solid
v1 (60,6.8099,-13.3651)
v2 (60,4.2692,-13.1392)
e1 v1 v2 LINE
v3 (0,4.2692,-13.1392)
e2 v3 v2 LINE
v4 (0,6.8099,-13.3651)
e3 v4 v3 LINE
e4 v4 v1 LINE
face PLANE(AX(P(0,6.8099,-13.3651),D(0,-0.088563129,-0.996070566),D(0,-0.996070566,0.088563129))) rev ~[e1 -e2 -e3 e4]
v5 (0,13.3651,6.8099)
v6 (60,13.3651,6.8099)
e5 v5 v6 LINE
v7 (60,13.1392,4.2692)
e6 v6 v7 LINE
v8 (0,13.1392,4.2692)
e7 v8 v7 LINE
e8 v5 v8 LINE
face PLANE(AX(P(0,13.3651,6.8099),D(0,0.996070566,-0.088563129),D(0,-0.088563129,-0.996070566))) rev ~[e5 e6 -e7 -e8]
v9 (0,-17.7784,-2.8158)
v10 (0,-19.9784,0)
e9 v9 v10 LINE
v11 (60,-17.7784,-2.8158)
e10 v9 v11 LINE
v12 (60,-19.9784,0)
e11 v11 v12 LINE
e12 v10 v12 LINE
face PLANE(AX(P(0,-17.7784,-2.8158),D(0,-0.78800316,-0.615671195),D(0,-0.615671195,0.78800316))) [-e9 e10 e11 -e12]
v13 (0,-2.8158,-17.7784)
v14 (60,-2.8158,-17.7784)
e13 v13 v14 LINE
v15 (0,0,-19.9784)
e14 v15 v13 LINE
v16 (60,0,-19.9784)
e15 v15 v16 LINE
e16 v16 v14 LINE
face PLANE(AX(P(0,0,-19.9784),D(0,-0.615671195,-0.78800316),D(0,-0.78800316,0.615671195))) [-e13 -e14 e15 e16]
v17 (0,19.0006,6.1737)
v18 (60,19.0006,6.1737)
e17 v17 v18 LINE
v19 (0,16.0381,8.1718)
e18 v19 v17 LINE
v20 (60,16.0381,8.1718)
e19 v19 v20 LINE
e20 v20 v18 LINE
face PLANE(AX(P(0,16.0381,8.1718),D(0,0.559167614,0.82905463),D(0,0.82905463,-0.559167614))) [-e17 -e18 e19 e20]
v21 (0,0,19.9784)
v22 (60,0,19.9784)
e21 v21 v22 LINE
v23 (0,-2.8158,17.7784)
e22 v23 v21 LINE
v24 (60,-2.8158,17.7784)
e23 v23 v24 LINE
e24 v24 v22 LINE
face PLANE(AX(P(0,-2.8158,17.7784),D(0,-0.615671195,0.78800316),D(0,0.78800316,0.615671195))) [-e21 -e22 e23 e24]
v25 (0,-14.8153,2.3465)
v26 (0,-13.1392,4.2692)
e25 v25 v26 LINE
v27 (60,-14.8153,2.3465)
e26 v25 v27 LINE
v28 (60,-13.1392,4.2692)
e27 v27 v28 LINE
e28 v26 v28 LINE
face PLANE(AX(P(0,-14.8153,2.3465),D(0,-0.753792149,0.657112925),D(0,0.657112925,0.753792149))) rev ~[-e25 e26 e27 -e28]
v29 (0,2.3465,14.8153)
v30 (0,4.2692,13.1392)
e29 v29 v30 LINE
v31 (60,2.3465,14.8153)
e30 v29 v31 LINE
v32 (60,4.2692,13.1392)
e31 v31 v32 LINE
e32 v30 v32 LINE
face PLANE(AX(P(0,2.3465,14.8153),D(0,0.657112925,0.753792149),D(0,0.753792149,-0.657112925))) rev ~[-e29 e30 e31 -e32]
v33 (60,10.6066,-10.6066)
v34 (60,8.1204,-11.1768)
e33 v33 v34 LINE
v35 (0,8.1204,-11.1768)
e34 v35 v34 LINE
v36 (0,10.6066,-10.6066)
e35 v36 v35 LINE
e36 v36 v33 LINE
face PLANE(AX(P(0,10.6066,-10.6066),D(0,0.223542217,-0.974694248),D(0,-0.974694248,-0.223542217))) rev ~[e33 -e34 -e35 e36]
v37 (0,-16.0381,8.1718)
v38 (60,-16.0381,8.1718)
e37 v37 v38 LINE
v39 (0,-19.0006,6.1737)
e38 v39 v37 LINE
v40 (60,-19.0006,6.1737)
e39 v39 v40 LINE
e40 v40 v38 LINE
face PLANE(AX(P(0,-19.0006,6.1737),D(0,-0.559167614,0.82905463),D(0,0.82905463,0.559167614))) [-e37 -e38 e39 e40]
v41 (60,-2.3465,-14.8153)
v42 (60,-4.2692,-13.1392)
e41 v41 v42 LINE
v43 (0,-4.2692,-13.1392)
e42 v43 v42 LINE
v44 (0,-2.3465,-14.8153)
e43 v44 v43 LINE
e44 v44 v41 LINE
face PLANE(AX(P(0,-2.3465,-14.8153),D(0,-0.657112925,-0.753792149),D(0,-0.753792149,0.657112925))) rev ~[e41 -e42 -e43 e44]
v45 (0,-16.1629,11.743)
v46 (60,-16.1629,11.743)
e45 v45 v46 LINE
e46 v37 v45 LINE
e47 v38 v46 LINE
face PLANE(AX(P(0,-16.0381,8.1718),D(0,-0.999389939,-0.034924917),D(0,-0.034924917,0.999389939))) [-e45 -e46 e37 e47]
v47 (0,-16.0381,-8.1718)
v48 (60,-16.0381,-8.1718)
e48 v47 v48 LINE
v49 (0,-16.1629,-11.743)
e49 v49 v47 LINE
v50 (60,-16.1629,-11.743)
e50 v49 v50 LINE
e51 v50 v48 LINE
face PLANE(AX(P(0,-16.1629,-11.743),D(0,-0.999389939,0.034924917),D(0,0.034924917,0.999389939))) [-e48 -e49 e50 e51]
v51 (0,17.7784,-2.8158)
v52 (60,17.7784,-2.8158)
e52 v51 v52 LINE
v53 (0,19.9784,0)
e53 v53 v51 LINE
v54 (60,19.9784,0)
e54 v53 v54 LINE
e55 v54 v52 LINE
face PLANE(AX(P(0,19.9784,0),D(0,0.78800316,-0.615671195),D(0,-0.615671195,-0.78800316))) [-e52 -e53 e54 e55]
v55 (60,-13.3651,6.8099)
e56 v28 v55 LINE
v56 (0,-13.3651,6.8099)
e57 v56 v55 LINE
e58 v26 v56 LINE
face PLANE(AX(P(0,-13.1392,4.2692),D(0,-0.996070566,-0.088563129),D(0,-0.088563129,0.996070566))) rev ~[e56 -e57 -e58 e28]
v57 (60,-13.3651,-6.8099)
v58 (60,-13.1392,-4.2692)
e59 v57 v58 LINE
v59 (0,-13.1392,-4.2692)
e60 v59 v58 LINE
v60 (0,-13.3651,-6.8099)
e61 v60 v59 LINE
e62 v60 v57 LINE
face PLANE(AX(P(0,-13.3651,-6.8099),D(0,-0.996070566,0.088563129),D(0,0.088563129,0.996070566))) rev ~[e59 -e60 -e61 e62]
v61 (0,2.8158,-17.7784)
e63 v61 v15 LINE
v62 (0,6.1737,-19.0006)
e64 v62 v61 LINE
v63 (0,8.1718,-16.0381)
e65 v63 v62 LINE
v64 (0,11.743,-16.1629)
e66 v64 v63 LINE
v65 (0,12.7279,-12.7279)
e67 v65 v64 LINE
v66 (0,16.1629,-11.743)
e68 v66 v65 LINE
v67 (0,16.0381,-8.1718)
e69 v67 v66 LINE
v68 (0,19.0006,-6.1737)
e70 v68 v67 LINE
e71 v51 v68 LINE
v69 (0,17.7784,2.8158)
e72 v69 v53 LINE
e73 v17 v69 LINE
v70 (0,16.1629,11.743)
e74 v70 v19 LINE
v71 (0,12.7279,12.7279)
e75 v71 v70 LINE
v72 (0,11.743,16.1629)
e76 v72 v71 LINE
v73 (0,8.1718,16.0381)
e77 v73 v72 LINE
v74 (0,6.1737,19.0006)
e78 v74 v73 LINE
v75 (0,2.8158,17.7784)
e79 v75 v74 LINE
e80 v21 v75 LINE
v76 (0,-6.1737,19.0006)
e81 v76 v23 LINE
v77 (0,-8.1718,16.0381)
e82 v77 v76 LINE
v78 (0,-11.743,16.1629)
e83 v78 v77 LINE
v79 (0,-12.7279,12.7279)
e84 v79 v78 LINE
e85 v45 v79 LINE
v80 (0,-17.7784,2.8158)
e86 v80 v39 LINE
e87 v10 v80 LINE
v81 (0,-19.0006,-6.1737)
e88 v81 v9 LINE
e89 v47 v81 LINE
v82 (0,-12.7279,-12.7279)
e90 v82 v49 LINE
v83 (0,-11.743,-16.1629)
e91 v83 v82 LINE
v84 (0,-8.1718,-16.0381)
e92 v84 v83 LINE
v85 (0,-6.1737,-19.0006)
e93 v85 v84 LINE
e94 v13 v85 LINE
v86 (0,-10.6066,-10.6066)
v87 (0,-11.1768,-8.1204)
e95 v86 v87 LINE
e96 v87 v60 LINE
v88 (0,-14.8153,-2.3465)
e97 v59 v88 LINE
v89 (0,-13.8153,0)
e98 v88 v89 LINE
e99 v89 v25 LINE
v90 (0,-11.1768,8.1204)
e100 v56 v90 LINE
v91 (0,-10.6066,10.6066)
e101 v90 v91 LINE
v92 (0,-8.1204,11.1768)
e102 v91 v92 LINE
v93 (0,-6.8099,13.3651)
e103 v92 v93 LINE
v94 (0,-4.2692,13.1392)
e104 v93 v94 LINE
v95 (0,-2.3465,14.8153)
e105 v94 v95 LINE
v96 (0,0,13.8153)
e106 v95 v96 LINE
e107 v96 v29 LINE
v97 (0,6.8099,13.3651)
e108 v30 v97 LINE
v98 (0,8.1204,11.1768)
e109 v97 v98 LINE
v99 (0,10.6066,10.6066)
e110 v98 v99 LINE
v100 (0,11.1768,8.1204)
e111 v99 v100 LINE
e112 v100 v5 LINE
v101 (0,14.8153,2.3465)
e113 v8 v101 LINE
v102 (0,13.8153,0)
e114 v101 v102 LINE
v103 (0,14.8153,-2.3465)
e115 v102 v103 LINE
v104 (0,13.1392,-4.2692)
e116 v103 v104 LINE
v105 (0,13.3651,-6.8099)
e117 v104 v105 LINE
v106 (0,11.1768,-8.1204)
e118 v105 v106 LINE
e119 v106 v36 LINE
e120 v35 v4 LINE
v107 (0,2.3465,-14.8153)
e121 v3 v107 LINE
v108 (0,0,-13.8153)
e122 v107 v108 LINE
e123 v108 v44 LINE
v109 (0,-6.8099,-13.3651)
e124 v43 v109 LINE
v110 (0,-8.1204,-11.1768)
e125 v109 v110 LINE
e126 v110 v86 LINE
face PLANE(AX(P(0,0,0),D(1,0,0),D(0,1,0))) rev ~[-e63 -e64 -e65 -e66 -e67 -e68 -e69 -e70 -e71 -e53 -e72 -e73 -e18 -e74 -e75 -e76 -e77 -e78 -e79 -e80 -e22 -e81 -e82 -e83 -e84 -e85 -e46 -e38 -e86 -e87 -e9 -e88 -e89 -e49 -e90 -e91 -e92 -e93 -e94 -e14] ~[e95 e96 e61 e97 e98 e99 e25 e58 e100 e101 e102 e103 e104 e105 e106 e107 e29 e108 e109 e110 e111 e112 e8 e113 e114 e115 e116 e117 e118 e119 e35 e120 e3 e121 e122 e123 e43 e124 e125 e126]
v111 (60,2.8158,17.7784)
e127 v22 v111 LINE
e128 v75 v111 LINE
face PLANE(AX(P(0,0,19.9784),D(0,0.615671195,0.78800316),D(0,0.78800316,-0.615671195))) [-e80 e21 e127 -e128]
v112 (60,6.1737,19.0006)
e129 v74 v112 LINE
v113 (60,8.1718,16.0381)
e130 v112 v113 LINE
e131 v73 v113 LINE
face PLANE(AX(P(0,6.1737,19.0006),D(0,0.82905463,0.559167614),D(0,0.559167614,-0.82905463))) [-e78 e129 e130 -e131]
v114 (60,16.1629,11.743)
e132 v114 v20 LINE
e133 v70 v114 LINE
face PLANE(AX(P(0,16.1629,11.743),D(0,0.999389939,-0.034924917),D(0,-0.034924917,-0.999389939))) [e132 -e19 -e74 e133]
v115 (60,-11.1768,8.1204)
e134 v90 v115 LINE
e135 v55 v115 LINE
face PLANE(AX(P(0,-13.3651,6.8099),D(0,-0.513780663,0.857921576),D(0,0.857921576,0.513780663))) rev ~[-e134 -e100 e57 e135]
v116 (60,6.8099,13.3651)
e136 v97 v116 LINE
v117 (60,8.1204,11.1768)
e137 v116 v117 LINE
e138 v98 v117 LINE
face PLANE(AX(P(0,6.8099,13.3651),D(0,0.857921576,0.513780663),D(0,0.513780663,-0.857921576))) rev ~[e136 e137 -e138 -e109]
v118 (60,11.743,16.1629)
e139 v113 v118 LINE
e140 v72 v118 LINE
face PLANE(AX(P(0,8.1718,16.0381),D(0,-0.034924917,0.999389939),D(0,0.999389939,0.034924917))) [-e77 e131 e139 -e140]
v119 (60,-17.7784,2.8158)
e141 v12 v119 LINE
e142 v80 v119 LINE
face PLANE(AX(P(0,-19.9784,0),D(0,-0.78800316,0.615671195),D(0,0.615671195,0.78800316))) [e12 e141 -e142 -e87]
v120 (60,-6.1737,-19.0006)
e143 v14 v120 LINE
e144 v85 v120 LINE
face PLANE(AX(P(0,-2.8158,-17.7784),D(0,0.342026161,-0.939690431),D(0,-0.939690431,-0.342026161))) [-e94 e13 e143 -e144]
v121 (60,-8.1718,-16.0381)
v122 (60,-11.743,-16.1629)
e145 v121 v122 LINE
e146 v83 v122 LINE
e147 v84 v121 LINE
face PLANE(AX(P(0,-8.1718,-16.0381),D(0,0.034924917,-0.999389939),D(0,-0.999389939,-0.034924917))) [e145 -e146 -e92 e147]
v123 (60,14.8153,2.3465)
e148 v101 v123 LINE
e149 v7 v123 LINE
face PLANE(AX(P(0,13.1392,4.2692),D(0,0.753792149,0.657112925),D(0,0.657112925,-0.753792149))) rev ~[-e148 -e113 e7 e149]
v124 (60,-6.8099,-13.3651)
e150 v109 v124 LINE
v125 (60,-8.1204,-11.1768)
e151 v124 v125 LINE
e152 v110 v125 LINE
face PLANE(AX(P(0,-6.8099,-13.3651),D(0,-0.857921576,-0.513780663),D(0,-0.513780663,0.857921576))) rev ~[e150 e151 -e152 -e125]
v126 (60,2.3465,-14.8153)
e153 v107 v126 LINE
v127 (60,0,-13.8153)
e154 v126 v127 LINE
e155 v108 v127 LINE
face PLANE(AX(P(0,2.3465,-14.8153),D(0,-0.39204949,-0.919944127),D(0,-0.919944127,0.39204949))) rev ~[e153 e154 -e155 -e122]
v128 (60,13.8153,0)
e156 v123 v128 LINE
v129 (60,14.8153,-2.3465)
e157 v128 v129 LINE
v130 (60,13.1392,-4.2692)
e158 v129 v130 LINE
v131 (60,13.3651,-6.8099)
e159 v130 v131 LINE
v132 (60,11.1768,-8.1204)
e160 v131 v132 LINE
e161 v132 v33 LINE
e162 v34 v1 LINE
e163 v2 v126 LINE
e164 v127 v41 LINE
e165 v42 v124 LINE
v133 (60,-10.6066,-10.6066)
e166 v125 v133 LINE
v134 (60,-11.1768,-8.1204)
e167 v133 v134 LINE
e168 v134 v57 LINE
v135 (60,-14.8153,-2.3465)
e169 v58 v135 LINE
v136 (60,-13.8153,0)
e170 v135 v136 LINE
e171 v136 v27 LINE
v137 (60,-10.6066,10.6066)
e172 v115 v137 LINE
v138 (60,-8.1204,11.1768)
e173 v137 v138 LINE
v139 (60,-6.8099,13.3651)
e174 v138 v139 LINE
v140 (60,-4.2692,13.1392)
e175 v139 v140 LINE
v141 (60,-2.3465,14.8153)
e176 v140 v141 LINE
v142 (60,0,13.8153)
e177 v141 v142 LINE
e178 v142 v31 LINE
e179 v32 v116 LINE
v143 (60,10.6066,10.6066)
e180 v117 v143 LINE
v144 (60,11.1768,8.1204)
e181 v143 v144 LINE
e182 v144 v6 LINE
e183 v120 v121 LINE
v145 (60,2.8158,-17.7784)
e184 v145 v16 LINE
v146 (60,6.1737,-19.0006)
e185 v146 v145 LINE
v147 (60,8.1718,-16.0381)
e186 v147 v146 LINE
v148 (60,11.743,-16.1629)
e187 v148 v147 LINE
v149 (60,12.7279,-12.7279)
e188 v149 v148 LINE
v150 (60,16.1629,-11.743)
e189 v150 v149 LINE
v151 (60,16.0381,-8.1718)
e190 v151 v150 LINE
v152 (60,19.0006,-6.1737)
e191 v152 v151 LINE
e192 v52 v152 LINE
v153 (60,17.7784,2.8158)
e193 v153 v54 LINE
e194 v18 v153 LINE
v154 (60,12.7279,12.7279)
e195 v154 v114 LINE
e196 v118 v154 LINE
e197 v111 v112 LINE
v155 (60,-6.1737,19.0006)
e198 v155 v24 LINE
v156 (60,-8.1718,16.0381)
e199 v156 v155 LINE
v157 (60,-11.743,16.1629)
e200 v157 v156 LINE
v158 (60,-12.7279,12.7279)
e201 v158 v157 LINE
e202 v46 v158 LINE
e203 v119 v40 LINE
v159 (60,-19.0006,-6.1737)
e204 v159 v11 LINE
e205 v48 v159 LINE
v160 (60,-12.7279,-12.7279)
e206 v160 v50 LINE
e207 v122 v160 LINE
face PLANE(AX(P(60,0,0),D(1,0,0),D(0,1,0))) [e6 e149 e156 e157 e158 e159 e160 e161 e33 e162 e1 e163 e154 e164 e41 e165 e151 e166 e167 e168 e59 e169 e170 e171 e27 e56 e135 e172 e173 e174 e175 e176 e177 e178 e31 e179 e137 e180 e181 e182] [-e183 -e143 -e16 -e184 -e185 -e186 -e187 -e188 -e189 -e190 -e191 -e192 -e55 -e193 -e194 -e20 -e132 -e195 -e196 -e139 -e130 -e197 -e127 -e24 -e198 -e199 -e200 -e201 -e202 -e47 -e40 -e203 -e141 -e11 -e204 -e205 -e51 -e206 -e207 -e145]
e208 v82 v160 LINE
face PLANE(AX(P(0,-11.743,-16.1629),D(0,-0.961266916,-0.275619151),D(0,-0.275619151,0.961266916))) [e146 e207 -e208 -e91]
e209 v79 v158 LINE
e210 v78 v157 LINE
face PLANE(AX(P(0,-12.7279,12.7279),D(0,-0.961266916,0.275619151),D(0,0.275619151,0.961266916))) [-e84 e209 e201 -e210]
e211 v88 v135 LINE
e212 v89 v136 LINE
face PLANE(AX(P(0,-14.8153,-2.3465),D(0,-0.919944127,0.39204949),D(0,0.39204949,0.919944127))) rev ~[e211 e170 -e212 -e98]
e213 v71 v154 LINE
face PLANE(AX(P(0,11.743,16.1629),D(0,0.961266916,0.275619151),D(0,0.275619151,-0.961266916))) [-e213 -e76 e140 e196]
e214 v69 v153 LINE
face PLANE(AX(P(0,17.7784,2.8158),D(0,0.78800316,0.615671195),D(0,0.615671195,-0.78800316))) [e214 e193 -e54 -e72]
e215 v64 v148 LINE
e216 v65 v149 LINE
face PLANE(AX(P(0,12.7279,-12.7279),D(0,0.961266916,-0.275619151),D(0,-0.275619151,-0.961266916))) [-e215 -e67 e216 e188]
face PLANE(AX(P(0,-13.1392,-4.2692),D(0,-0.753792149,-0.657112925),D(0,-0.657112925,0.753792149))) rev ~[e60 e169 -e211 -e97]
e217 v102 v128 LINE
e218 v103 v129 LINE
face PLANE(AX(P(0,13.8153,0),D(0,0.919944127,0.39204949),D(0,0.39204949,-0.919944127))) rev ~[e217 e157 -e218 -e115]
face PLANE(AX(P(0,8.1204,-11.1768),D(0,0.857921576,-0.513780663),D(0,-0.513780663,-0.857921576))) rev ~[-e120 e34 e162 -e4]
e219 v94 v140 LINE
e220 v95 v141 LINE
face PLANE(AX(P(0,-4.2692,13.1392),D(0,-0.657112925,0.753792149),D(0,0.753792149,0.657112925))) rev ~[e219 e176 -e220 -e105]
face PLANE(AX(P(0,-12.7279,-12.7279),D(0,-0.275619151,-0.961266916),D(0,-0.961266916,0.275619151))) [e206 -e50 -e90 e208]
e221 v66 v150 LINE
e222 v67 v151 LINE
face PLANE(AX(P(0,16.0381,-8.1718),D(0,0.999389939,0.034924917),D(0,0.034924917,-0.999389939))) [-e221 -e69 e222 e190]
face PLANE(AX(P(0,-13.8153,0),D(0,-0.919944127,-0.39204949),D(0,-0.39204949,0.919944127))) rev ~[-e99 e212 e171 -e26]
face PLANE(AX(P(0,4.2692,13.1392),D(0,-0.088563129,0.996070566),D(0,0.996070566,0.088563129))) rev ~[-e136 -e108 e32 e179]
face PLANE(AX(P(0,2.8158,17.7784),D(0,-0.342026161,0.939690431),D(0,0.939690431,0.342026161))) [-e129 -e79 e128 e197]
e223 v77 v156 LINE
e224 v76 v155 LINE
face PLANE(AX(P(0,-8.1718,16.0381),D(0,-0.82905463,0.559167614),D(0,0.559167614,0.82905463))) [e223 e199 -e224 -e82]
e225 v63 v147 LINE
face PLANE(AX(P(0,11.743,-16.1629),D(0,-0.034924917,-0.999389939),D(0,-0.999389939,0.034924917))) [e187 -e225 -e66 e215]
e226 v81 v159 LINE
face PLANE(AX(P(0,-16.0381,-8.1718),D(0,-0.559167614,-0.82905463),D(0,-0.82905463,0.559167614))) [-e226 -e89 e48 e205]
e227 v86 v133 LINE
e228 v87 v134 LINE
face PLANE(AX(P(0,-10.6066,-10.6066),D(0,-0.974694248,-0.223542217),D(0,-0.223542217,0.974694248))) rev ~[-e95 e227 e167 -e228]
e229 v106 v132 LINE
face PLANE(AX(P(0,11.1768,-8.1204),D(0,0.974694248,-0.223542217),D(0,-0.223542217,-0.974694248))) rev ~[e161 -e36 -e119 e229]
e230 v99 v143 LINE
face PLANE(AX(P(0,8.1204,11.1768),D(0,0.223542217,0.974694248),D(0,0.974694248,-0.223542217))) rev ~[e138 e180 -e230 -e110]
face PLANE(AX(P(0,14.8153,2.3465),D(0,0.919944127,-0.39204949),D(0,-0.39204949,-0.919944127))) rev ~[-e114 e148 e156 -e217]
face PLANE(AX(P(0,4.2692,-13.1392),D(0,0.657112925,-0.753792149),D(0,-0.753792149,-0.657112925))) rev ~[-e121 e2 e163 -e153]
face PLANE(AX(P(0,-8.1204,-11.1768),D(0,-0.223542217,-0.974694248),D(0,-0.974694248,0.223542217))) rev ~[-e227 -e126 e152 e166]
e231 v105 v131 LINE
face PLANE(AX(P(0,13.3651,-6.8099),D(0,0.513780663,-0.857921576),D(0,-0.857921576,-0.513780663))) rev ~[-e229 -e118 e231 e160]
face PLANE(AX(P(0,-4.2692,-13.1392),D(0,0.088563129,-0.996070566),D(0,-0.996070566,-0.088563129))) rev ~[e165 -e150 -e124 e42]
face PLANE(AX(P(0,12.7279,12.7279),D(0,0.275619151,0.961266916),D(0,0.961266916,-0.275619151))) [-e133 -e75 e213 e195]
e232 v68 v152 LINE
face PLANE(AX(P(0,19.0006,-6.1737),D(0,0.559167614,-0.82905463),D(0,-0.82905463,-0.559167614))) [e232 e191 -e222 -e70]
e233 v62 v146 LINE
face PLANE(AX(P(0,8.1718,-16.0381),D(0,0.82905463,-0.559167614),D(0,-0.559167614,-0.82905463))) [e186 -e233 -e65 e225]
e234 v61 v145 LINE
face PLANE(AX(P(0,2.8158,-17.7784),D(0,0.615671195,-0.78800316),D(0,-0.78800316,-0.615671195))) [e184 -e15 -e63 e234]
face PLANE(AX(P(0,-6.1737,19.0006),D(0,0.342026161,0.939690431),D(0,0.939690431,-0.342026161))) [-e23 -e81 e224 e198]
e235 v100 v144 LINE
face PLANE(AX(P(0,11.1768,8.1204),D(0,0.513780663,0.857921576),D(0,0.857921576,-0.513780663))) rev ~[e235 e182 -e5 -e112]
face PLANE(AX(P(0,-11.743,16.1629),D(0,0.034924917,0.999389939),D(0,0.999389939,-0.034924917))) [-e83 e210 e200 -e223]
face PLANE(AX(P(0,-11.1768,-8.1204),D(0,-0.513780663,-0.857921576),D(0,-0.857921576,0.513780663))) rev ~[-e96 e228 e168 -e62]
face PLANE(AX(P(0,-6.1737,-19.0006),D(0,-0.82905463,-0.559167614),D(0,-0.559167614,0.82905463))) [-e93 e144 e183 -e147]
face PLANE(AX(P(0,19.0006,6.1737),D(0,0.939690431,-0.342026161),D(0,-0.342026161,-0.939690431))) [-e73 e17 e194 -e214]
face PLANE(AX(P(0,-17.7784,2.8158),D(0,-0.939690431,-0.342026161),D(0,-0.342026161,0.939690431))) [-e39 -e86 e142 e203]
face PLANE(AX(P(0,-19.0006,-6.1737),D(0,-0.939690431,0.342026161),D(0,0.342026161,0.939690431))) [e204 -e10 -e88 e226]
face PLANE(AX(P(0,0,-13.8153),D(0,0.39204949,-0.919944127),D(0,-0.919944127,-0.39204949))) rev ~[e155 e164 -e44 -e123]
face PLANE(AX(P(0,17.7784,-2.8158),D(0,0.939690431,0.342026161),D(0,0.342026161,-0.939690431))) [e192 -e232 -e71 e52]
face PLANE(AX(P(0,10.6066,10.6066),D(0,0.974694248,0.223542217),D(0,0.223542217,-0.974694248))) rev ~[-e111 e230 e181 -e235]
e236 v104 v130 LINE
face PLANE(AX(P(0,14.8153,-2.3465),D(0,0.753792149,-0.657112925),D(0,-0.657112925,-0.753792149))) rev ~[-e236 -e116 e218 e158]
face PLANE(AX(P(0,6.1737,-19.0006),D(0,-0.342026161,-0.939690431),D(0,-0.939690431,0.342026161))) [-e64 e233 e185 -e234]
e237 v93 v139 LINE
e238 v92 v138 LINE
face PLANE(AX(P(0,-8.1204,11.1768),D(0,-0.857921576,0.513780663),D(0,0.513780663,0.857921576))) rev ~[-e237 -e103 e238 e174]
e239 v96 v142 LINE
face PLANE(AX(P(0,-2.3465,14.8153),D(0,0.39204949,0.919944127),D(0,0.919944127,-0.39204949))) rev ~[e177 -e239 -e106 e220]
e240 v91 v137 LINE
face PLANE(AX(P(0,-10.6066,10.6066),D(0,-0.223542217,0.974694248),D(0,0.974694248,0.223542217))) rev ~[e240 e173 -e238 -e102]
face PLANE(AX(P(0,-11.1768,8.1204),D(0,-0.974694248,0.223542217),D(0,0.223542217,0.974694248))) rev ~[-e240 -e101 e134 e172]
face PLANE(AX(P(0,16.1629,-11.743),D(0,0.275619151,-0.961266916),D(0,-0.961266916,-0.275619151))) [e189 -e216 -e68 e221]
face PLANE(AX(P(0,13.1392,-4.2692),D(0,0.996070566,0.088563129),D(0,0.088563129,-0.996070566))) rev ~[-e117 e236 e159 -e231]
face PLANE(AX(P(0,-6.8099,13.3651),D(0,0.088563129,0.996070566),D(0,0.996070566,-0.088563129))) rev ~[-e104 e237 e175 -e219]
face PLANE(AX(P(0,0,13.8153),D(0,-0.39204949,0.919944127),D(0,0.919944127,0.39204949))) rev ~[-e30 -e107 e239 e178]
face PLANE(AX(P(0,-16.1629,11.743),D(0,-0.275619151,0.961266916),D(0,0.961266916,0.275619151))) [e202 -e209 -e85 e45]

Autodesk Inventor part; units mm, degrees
ref_plane "YZ Plane" through (0, 0, 0) normal (1, 0, 0) x (0, 1, 0)
ref_plane "XZ Plane" through (0, 0, 0) normal (0, 1, 0) x (-1, 0, 0)
ref_plane "XY Plane" through (0, 0, 0) normal (0, 0, 1) x (1, 0, 0)
sketch "Sketch2" plane through (0, 0, 0) normal (1, 0, 0) x (0, 1, 0)
  circle A0 centre (0, 0) radius 15 construction
  circle A1 centre (0, 0) radius 18 construction
  line L0 (17.7784, 2.8158) -> (17.7784, -2.8158) construction
  line L1 (17.7784, 2.8158) -> (0, 0) construction
  line L2 (0, 0) -> (17.7784, -2.8158) construction
  line L3 (17.7784, 2.8158) -> (19.9784, 0)
  line L4 (19.9784, 0) -> (17.7784, -2.8158)
  line L5 (19.9784, 0) -> (17.7784, 0) construction
  line L6 (14.8153, 2.3465) -> (13.8153, 0)
  line L7 (13.8153, 0) -> (14.8153, -2.3465)
  line L8 (14.8153, 2.3465) -> (14.8153, -2.3465) construction
  line L9 (13.8153, 0) -> (14.8153, 0) construction
  line L10 (16.0381, 8.1718) -> (19.0006, 6.1737)
  line L11 (19.0006, 6.1737) -> (17.7784, 2.8158)
  line L12 (13.3651, 6.8099) -> (13.1392, 4.2692)
  line L13 (13.1392, 4.2692) -> (14.8153, 2.3465)
  line L14 (12.7279, 12.7279) -> (16.1629, 11.743)
  line L15 (16.1629, 11.743) -> (16.0381, 8.1718)
  line L16 (10.6066, 10.6066) -> (11.1768, 8.1204)
  line L17 (11.1768, 8.1204) -> (13.3651, 6.8099)
  line L18 (8.1718, 16.0381) -> (11.743, 16.1629)
  line L19 (11.743, 16.1629) -> (12.7279, 12.7279)
  line L20 (6.8099, 13.3651) -> (8.1204, 11.1768)
  line L21 (8.1204, 11.1768) -> (10.6066, 10.6066)
  line L22 (2.8158, 17.7784) -> (6.1737, 19.0006)
  line L23 (6.1737, 19.0006) -> (8.1718, 16.0381)
  line L24 (2.3465, 14.8153) -> (4.2692, 13.1392)
  line L25 (4.2692, 13.1392) -> (6.8099, 13.3651)
  line L26 (-2.8158, 17.7784) -> (0, 19.9784)
  line L27 (0, 19.9784) -> (2.8158, 17.7784)
  line L28 (-2.3465, 14.8153) -> (0, 13.8153)
  line L29 (0, 13.8153) -> (2.3465, 14.8153)
  line L30 (-8.1718, 16.0381) -> (-6.1737, 19.0006)
  line L31 (-6.1737, 19.0006) -> (-2.8158, 17.7784)
  line L32 (-6.8099, 13.3651) -> (-4.2692, 13.1392)
  line L33 (-4.2692, 13.1392) -> (-2.3465, 14.8153)
  line L34 (-12.7279, 12.7279) -> (-11.743, 16.1629)
  line L35 (-11.743, 16.1629) -> (-8.1718, 16.0381)
  line L36 (-10.6066, 10.6066) -> (-8.1204, 11.1768)
  line L37 (-8.1204, 11.1768) -> (-6.8099, 13.3651)
  line L38 (-16.0381, 8.1718) -> (-16.1629, 11.743)
  line L39 (-16.1629, 11.743) -> (-12.7279, 12.7279)
  line L40 (-13.3651, 6.8099) -> (-11.1768, 8.1204)
  line L41 (-11.1768, 8.1204) -> (-10.6066, 10.6066)
  line L42 (-17.7784, 2.8158) -> (-19.0006, 6.1737)
  line L43 (-19.0006, 6.1737) -> (-16.0381, 8.1718)
  line L44 (-14.8153, 2.3465) -> (-13.1392, 4.2692)
  line L45 (-13.1392, 4.2692) -> (-13.3651, 6.8099)
  line L46 (-17.7784, -2.8158) -> (-19.9784, 0)
  line L47 (-19.9784, 0) -> (-17.7784, 2.8158)
  line L48 (-14.8153, -2.3465) -> (-13.8153, 0)
  line L49 (-13.8153, 0) -> (-14.8153, 2.3465)
  line L50 (-16.0381, -8.1718) -> (-19.0006, -6.1737)
  line L51 (-19.0006, -6.1737) -> (-17.7784, -2.8158)
  line L52 (-13.3651, -6.8099) -> (-13.1392, -4.2692)
  line L53 (-13.1392, -4.2692) -> (-14.8153, -2.3465)
  line L54 (-12.7279, -12.7279) -> (-16.1629, -11.743)
  line L55 (-16.1629, -11.743) -> (-16.0381, -8.1718)
  line L56 (-10.6066, -10.6066) -> (-11.1768, -8.1204)
  line L57 (-11.1768, -8.1204) -> (-13.3651, -6.8099)
  line L58 (-8.1718, -16.0381) -> (-11.743, -16.1629)
  line L59 (-11.743, -16.1629) -> (-12.7279, -12.7279)
  line L60 (-6.8099, -13.3651) -> (-8.1204, -11.1768)
  line L61 (-8.1204, -11.1768) -> (-10.6066, -10.6066)
  line L62 (-2.8158, -17.7784) -> (-6.1737, -19.0006)
  line L63 (-6.1737, -19.0006) -> (-8.1718, -16.0381)
  line L64 (-2.3465, -14.8153) -> (-4.2692, -13.1392)
  line L65 (-4.2692, -13.1392) -> (-6.8099, -13.3651)
  line L66 (2.8158, -17.7784) -> (0, -19.9784)
  line L67 (0, -19.9784) -> (-2.8158, -17.7784)
  line L68 (2.3465, -14.8153) -> (0, -13.8153)
  line L69 (0, -13.8153) -> (-2.3465, -14.8153)
  line L70 (8.1718, -16.0381) -> (6.1737, -19.0006)
  line L71 (6.1737, -19.0006) -> (2.8158, -17.7784)
  line L72 (6.8099, -13.3651) -> (4.2692, -13.1392)
  line L73 (4.2692, -13.1392) -> (2.3465, -14.8153)
  line L74 (12.7279, -12.7279) -> (11.743, -16.1629)
  line L75 (11.743, -16.1629) -> (8.1718, -16.0381)
  line L76 (10.6066, -10.6066) -> (8.1204, -11.1768)
  line L77 (8.1204, -11.1768) -> (6.8099, -13.3651)
  line L78 (16.0381, -8.1718) -> (16.1629, -11.743)
  line L79 (16.1629, -11.743) -> (12.7279, -12.7279)
  line L80 (13.3651, -6.8099) -> (11.1768, -8.1204)
  line L81 (11.1768, -8.1204) -> (10.6066, -10.6066)
  line L82 (17.7784, -2.8158) -> (19.0006, -6.1737)
  line L83 (19.0006, -6.1737) -> (16.0381, -8.1718)
  line L84 (14.8153, -2.3465) -> (13.1392, -4.2692)
  line L85 (13.1392, -4.2692) -> (13.3651, -6.8099)
  dimension "d15" = 30
  dimension "d16" = 36
  dimension "d19" = 18
  dimension "d20" = 2.2
  dimension "d22" = 1
  dimension "d25" = 360
extrude "Extrusion2" add sketch "Sketch2" along normal blind 60
properties part number "FlexRoller" material "PC/ABS Plastic"
